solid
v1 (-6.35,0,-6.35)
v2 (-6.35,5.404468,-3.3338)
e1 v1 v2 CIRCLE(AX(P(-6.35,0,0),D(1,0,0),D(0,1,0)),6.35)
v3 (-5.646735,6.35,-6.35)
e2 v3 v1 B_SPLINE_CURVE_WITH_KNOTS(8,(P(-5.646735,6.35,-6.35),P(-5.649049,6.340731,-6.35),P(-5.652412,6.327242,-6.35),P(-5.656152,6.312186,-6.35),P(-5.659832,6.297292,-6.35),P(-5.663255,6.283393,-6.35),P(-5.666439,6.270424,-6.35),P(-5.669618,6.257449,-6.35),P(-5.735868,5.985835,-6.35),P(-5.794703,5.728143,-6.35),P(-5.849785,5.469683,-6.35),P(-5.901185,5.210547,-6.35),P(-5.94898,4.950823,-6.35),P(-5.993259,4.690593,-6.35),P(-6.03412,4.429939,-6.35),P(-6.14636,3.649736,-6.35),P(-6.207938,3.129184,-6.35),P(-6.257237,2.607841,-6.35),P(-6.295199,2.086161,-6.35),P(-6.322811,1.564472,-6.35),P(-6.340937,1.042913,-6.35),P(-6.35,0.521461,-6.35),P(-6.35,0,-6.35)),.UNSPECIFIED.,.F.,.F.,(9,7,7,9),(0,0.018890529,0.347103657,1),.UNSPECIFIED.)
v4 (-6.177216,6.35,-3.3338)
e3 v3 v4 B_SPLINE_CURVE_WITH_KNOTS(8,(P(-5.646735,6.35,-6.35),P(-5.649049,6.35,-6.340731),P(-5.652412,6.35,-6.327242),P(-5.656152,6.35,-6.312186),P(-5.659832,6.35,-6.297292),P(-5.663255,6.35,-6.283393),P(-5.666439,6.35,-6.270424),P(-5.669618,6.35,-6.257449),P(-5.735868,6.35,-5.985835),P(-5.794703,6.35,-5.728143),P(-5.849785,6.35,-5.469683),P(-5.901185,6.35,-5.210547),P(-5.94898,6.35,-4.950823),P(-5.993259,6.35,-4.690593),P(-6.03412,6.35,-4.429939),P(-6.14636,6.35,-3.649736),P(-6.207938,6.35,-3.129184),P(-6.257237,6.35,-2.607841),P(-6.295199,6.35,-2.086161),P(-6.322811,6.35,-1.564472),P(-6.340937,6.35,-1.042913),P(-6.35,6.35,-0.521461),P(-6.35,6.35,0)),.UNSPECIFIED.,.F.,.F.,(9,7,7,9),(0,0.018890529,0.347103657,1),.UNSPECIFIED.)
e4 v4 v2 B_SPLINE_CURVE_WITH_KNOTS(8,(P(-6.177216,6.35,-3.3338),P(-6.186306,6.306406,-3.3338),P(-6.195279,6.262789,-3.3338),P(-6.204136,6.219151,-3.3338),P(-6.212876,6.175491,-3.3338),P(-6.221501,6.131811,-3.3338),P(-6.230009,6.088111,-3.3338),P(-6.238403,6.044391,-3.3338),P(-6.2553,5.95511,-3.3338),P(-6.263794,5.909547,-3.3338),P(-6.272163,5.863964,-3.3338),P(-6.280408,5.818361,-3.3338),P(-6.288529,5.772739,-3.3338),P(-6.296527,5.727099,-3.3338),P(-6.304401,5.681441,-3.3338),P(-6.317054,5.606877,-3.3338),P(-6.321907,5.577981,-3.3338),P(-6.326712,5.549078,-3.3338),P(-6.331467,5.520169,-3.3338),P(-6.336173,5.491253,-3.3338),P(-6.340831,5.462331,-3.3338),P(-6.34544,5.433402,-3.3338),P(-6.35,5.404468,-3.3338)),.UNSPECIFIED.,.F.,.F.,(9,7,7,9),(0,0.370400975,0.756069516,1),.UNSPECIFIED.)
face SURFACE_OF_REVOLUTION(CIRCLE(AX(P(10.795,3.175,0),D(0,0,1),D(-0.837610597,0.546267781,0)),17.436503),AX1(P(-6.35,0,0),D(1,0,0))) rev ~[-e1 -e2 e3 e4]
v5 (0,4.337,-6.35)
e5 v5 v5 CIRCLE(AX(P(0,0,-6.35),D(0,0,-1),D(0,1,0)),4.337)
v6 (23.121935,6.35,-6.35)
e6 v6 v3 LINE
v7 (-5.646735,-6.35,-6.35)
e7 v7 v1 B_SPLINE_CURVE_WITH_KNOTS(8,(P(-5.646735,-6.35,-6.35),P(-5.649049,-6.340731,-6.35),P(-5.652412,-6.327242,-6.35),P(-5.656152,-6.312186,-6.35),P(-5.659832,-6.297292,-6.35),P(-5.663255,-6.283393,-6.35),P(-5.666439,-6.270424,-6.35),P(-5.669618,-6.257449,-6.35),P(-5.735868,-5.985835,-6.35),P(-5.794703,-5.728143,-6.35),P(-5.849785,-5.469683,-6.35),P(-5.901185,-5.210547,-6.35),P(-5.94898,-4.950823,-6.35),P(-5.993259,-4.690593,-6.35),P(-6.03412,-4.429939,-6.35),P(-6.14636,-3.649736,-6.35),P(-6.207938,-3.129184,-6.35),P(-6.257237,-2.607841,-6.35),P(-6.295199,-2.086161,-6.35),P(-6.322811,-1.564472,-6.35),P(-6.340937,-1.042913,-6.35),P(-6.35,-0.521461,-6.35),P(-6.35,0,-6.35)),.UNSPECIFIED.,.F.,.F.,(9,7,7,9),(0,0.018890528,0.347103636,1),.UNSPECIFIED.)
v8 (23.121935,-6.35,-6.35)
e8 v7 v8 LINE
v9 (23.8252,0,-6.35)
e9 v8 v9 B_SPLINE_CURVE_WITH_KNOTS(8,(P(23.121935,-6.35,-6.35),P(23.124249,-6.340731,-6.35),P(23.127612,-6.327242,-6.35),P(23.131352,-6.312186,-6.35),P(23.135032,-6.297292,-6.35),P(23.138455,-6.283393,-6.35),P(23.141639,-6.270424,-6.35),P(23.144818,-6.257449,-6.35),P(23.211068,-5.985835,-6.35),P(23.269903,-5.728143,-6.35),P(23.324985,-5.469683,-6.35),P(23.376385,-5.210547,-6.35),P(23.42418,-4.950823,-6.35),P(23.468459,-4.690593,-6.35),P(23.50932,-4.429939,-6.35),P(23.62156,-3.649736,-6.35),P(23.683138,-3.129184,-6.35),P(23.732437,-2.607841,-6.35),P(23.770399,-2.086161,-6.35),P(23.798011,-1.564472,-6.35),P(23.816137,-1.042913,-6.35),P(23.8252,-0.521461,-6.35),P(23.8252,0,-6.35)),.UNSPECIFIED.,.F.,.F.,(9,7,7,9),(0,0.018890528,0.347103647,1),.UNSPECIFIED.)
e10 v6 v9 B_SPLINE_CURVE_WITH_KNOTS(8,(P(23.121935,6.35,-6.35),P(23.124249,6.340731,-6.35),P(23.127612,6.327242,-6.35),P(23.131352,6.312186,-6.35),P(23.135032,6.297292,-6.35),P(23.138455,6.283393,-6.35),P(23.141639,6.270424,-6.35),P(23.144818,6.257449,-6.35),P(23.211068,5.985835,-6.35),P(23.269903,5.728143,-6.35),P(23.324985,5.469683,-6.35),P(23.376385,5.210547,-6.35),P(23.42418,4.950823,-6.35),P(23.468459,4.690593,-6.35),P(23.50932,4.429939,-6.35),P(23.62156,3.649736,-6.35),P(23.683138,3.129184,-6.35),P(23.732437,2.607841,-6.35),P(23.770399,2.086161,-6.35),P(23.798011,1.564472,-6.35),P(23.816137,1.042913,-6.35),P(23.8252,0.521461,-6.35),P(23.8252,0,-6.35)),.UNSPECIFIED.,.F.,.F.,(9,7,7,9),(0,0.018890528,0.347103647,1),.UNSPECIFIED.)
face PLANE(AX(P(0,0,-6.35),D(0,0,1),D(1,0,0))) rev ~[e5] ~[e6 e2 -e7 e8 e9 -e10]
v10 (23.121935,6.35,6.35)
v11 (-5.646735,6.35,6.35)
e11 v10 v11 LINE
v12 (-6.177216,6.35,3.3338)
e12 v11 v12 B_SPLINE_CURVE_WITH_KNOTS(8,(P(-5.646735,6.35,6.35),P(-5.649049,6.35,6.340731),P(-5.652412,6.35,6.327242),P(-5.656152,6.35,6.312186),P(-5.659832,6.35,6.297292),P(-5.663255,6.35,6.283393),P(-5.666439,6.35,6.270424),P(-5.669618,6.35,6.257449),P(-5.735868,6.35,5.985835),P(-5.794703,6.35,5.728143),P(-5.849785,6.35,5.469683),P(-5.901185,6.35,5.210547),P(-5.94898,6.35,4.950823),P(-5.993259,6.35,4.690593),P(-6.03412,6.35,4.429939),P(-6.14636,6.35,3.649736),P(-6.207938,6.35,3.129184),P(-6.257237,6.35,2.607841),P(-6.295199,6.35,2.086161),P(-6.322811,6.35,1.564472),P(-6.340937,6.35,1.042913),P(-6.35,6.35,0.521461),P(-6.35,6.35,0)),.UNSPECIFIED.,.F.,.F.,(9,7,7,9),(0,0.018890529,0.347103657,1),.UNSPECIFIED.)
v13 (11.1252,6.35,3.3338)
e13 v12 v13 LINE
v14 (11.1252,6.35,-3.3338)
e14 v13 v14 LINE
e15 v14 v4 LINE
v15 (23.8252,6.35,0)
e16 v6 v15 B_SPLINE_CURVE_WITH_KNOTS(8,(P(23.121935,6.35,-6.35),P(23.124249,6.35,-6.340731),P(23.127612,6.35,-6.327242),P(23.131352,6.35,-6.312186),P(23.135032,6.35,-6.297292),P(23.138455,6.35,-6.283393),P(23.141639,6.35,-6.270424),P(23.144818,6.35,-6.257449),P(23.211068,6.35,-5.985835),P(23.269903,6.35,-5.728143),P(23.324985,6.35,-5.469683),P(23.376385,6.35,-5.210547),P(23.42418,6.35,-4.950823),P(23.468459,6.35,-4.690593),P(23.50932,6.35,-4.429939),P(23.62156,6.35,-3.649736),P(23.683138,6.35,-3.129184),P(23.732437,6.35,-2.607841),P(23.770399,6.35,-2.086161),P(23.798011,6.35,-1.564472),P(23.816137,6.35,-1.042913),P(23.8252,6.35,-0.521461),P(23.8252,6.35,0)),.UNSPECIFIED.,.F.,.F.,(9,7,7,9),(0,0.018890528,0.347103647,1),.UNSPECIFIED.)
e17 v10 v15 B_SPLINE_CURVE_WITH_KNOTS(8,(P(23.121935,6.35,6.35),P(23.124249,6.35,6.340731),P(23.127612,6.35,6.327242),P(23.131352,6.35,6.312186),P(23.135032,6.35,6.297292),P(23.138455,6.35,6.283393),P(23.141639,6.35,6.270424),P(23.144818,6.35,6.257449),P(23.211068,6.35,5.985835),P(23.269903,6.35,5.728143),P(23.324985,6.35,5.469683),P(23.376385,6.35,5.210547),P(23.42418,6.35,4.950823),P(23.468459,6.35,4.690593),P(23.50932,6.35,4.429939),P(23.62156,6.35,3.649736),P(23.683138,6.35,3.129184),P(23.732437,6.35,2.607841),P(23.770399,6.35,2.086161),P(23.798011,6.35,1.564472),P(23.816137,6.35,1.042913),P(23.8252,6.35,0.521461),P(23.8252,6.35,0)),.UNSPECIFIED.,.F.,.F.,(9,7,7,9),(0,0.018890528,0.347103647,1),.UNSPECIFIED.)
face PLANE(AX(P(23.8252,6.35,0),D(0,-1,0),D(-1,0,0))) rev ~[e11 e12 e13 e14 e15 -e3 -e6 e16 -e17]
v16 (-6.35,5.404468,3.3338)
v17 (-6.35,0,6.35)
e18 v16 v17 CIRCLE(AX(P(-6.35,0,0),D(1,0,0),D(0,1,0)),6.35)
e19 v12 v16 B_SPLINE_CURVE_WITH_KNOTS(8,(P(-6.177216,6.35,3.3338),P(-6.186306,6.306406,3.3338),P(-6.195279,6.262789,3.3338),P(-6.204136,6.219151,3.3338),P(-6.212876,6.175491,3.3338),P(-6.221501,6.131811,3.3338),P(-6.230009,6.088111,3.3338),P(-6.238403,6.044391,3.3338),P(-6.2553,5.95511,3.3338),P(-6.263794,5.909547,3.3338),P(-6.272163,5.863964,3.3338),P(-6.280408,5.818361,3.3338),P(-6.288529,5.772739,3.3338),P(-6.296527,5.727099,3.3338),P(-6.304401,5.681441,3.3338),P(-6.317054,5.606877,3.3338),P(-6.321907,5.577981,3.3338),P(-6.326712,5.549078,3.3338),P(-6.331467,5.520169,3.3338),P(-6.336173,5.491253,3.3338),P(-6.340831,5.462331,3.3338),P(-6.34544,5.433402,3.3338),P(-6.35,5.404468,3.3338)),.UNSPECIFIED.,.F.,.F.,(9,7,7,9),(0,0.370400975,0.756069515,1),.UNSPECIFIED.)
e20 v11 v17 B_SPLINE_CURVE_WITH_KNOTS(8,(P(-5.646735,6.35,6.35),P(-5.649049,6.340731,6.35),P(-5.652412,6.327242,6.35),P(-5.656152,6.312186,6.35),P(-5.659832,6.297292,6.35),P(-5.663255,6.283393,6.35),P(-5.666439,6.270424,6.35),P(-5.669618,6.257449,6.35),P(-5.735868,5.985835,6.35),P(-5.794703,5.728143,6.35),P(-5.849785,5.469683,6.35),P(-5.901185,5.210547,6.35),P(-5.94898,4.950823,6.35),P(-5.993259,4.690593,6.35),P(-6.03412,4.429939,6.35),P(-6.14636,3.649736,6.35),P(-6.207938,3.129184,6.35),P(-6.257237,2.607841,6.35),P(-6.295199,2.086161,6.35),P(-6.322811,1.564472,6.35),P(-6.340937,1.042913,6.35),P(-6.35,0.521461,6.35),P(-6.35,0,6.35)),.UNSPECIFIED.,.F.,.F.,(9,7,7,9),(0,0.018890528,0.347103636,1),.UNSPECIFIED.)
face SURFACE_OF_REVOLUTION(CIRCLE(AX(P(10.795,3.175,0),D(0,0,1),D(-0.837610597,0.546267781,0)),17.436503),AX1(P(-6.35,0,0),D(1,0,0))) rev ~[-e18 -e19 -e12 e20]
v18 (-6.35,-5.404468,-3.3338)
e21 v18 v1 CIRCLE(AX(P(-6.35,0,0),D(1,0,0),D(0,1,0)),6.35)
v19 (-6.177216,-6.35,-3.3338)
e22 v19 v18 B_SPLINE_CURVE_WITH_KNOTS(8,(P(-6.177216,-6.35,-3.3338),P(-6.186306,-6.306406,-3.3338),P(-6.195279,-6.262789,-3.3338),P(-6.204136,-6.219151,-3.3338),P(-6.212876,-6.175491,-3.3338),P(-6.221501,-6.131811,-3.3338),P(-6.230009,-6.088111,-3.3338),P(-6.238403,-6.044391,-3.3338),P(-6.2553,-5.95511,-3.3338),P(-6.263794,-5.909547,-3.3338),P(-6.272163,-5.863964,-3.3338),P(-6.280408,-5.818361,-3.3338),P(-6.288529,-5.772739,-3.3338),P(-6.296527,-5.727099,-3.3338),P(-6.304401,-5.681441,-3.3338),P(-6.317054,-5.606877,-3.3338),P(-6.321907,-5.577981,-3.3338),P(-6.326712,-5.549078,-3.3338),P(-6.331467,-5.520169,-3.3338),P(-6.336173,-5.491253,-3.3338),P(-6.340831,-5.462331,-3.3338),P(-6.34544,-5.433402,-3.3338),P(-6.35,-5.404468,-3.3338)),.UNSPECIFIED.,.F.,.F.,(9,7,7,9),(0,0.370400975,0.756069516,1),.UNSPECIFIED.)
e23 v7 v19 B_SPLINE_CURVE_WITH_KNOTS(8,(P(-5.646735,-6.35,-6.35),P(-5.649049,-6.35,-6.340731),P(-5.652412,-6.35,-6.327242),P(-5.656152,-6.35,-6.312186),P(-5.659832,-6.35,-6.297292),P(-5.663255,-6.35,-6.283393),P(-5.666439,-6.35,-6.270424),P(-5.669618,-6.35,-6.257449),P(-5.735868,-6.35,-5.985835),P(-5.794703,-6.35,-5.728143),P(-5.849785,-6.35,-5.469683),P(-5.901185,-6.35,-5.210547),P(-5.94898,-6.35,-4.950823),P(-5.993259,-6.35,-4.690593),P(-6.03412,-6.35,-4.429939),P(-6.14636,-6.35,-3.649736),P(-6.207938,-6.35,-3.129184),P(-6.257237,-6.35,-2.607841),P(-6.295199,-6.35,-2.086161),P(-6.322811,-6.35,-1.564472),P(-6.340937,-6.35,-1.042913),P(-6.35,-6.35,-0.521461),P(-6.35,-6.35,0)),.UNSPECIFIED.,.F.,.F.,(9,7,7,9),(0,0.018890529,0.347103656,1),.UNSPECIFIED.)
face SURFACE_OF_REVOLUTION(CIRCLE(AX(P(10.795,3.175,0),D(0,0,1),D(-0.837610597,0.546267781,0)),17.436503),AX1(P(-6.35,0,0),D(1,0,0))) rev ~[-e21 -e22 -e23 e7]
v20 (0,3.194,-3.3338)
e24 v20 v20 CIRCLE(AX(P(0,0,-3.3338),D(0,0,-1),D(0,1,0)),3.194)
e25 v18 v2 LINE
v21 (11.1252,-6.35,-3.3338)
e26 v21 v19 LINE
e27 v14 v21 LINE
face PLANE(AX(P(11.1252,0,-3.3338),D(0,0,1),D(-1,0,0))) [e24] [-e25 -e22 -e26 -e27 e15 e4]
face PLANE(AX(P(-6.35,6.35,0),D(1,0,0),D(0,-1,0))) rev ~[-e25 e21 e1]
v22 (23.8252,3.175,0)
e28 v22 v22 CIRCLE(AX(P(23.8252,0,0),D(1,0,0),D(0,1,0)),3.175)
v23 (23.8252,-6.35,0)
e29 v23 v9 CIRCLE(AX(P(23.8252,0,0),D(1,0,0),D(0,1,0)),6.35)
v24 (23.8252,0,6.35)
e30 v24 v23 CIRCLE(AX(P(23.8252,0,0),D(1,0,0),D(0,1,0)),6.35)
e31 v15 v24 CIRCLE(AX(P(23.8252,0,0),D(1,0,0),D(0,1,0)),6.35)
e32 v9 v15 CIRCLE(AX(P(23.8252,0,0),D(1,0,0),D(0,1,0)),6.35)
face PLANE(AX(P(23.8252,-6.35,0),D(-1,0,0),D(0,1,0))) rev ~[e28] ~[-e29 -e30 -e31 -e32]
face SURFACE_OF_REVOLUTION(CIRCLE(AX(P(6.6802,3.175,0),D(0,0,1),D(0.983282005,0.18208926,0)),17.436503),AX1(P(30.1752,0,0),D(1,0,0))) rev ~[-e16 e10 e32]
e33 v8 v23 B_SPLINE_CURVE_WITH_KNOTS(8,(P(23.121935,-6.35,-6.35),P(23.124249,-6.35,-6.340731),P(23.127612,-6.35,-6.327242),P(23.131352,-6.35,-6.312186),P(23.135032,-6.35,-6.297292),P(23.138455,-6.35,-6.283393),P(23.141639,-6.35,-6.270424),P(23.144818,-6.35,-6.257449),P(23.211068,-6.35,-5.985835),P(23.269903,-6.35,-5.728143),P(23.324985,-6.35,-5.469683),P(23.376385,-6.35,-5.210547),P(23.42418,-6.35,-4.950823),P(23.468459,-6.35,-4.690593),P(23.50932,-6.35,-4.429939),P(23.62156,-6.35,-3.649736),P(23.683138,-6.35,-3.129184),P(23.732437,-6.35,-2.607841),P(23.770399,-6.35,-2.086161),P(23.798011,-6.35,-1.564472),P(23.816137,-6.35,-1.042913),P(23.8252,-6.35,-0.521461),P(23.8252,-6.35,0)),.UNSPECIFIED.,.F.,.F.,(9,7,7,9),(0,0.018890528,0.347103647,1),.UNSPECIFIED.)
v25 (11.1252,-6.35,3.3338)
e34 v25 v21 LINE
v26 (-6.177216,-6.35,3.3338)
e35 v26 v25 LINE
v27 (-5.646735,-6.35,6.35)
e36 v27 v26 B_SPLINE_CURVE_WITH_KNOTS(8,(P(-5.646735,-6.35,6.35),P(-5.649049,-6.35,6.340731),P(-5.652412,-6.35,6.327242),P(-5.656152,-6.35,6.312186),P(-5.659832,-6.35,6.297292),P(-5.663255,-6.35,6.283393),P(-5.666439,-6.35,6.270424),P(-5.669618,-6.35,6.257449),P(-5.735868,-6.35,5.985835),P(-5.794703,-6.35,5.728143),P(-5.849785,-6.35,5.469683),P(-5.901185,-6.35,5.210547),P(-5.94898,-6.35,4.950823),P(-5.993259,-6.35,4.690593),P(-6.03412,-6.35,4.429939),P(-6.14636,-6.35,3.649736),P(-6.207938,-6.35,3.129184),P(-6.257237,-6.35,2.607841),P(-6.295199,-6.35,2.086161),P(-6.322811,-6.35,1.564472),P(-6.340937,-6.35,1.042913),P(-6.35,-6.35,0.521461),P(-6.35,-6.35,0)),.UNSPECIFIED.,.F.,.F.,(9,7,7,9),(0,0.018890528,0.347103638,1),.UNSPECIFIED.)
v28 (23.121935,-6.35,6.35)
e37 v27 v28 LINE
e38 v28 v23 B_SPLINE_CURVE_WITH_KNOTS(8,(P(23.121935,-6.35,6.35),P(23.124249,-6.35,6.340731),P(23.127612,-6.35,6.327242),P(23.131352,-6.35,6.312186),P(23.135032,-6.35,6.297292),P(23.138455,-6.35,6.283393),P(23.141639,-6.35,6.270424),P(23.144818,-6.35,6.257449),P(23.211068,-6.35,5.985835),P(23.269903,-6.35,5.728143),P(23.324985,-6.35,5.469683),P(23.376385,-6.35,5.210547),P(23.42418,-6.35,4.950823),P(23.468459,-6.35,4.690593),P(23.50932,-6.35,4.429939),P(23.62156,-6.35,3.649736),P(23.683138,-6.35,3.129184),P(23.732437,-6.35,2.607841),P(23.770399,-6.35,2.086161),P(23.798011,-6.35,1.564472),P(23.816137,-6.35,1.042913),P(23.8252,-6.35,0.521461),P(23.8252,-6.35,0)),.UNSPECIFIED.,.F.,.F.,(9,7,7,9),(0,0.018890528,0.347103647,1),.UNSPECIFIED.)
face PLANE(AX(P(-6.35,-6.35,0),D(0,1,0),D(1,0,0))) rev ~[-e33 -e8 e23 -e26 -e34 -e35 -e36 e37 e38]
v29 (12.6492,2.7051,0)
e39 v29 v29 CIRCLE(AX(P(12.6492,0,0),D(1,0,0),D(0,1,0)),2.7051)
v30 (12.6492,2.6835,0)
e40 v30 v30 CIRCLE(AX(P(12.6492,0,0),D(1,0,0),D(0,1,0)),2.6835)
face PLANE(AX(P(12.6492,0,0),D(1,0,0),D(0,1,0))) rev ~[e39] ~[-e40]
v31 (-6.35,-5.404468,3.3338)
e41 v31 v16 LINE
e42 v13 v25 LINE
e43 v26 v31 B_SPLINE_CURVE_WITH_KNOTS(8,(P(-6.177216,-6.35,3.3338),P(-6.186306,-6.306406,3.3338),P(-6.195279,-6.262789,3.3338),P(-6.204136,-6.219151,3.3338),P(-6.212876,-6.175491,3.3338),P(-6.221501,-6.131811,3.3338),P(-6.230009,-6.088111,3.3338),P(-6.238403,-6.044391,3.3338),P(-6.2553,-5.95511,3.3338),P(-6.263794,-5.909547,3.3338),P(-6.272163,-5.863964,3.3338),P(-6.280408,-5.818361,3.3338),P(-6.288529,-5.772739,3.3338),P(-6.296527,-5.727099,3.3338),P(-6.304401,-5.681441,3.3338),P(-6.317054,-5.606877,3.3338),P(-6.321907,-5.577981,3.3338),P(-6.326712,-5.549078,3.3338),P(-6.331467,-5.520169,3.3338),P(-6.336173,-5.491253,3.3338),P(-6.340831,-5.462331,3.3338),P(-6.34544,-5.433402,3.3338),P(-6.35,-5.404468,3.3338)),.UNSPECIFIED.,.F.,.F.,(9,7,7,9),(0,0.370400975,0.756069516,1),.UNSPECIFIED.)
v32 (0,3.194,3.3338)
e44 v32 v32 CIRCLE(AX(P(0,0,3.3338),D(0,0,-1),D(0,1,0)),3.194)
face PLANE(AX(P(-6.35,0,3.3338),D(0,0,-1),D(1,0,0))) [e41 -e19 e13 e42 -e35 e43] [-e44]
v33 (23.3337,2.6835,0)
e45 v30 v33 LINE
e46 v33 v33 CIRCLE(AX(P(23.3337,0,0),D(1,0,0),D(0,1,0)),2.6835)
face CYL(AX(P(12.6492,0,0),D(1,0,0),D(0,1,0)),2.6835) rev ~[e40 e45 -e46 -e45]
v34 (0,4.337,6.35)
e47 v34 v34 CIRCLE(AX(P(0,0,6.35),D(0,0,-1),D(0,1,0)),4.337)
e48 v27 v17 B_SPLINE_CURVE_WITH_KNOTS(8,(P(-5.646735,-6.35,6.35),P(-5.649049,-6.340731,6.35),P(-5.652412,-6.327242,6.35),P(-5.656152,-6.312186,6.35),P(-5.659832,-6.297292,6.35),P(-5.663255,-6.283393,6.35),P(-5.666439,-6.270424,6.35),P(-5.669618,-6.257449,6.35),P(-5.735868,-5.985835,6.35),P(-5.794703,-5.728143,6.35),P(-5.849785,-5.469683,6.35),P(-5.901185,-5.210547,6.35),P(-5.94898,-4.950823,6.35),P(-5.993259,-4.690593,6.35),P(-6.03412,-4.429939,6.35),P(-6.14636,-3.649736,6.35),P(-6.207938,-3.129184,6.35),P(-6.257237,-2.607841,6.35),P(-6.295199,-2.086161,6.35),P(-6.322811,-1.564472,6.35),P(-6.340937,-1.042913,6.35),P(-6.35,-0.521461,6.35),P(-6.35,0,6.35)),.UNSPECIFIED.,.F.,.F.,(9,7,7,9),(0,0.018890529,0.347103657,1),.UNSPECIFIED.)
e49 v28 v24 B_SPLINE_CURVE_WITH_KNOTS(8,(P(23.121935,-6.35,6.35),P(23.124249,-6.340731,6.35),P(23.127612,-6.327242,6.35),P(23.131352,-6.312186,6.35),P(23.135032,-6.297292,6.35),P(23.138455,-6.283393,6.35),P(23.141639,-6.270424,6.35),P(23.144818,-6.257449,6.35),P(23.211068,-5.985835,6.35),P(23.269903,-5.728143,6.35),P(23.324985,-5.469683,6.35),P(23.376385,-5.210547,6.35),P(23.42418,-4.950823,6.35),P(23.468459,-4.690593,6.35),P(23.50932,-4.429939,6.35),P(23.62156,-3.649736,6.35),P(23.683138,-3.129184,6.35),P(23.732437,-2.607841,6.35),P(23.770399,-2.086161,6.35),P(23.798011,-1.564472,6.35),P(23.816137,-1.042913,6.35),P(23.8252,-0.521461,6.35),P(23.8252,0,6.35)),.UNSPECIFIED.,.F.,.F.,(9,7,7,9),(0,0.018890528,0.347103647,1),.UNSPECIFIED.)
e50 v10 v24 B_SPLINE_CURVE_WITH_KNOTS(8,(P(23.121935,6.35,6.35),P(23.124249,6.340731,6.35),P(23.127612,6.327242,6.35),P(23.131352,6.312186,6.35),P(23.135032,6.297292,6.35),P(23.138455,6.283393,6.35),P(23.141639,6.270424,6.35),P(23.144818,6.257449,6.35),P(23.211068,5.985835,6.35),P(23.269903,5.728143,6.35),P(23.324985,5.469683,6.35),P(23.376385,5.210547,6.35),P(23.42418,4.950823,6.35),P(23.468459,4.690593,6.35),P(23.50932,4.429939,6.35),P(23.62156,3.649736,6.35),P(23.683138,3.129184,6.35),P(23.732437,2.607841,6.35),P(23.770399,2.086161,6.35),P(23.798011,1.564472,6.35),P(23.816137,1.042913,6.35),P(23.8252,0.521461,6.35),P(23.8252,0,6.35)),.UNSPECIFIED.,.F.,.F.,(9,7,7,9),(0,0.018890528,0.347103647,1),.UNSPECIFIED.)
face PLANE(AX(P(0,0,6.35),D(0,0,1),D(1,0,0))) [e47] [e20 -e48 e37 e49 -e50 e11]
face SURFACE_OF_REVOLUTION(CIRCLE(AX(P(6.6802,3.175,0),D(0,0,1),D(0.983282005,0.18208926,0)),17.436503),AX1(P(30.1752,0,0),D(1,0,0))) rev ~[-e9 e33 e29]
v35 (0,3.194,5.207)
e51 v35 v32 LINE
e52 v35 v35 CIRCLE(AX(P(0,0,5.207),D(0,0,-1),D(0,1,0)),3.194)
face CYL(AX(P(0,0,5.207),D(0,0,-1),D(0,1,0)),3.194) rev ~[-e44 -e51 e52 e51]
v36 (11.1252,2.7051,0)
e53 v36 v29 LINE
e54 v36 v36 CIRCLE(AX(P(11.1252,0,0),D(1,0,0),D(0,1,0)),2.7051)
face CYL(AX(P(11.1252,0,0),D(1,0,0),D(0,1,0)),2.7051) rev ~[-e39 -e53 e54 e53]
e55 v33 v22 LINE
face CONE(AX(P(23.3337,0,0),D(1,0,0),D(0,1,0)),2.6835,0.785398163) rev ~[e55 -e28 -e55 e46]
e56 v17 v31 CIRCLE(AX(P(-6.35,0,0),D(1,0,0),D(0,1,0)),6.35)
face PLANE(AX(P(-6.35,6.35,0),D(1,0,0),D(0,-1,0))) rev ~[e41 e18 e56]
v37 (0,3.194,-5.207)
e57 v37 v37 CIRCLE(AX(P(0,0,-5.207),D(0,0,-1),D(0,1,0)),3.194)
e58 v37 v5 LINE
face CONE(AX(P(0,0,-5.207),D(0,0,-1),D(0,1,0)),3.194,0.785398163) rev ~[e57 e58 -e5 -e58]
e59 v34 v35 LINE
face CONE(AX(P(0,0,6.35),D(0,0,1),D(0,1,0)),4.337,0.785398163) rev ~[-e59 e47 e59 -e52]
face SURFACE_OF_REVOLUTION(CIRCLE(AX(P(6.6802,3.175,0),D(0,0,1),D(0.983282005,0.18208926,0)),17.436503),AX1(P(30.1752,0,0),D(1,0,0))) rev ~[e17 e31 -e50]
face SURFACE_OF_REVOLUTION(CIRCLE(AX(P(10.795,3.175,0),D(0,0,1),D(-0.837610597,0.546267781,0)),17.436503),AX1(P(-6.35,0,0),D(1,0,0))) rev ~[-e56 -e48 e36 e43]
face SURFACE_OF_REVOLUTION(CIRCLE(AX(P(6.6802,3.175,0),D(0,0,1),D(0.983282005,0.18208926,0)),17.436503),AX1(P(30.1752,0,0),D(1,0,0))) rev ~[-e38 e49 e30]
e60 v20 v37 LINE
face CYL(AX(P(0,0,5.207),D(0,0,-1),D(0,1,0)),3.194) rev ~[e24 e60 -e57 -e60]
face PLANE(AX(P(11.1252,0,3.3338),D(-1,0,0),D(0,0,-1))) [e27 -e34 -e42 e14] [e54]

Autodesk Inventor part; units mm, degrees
sketch "Sketch_1" plane through (0, 0, 0) normal (0, 0, 1) x (1, 0, 0)
  line L0 (-6.35, 6.35) -> (-6.35, -6.35)
  line L1 (-6.35, -6.35) -> (23.8252, -6.35)
  line L2 (23.8252, -6.35) -> (23.8252, 6.35)
  line L3 (23.8252, 6.35) -> (-6.35, 6.35)
extrude "Extrusion1" add sketch "Sketch_1" along normal mid plane 12.7
sketch "Sketch_2" plane through (0, 0, 0) normal (0, 1, 0) x (-1, 0, 0)
  line L0 (6.35, -3.3338) -> (6.35, 3.3338)
  line L1 (6.35, 3.3338) -> (-11.1252, 3.3338)
  line L2 (-11.1252, 3.3338) -> (-11.1252, -3.3338)
  line L3 (-11.1252, -3.3338) -> (6.35, -3.3338)
extrude "Extrusion2" cut sketch "Sketch_2" along normal mid plane 12.7
sketch "Sketch_3" plane through (0, 0, 0) normal (0, 0, 1) x (1, 0, 0)
  line L0 (23.8252, 0) -> (12.6492, 0)
  line L1 (12.6492, 0) -> (12.6492, 2.6835)
  line L2 (12.6492, 2.6835) -> (23.3337, 2.6835)
  line L3 (23.3337, 2.6835) -> (23.8252, 3.175)
  line L4 (23.8252, 3.175) -> (23.8252, 0)
  line L5 (23.8252, 0) -> (12.6492, 0)
revolve "Revolution1" cut sketch "Sketch_3" angle 360 about axis through (23.8252, 0, 0) along (1, 0, 0)
thread "Thread1"
sketch "Sketch_4" plane through (0, 0, 0) normal (0, 0, 1) x (1, 0, 0)
  line L0 (12.6492, 0) -> (11.1252, 0)
  line L1 (11.1252, 0) -> (11.1252, 2.7051)
  line L2 (11.1252, 2.7051) -> (12.6492, 2.7051)
  line L3 (12.6492, 2.7051) -> (12.6492, 0)
  line L4 (12.6492, 0) -> (11.1252, 0)
revolve "Revolution2" cut sketch "Sketch_4" angle 360 about axis through (12.6492, 0, 0) along (1, 0, 0)
sketch "Sketch_5" plane through (0, 0, 0) normal (1, 0, 0) x (0, 1, 0)
  line L0 (0, -6.35) -> (0, 6.35)
  line L1 (0, 6.35) -> (4.337, 6.35)
  line L2 (4.337, 6.35) -> (3.194, 5.207)
  line L3 (3.194, 5.207) -> (3.194, -5.207)
  line L4 (3.194, -5.207) -> (4.337, -6.35)
  line L5 (4.337, -6.35) -> (0, -6.35)
  line L6 (0, -6.35) -> (0, 6.35)
revolve "Revolution3" cut sketch "Sketch_5" angle 360 about axis through (0, 0, -6.35) along (0, 0, -1)
sketch "Sketch_9" plane through (0, 0, 0) normal (0, 0, 1) x (1, 0, 0)
  line L0 (30.1752, 0) -> (23.8252, 0)
  line L1 (23.8252, 0) -> (23.8252, 6.35)
  arc A0 (23.8252, 6.35) -> (21.2852, 12.7) centre (6.6802, 3.175) ccw
  line L2 (21.2852, 12.7) -> (30.1752, 12.7)
  line L3 (30.1752, 12.7) -> (30.1752, 0)
  line L4 (30.1752, 0) -> (23.8252, 0)
revolve "Revolution4" cut sketch "Sketch_9" angle 360 about axis through (30.1752, 0, 0) along (1, 0, 0)
sketch "Sketch_10" plane through (0, 0, 0) normal (0, 0, 1) x (1, 0, 0)
  line L0 (-6.35, 0) -> (-12.7, 0)
  line L1 (-12.7, 0) -> (-12.7, 12.7)
  line L2 (-12.7, 12.7) -> (-3.81, 12.7)
  arc A0 (-3.81, 12.7) -> (-6.35, 6.35) centre (10.795, 3.175) ccw
  line L3 (-6.35, 6.35) -> (-6.35, 0)
  line L4 (-6.35, 0) -> (-12.7, 0)
revolve "Revolution5" cut sketch "Sketch_10" angle 360 about axis through (-6.35, 0, 0) along (1, 0, 0)
ref_plane "th1_XY" through (23.8252, 3.175, 0) normal (0, 0, 1) x (1, 0, 0)
ref_plane "th1_YZ" through (23.8252, 3.175, 0) normal (1, 0, 0) x (0, 1, 0)
ref_plane "th1_ZX" through (23.8252, 3.175, 0) normal (0, 1, 0) x (0, 0, 1)
ref_plane "th2_XY" through (23.8252, -3.175, 0) normal (0, 0, 1) x (1, 0, 0)
ref_plane "th2_YZ" through (23.8252, -3.175, 0) normal (1, 0, 0) x (0, 1, 0)
ref_plane "th2_ZX" through (23.8252, -3.175, 0) normal (0, 1, 0) x (0, 0, 1)
ref_plane "rod_clevis_body_XY" through (0, 0, 0) normal (0, 0, 1) x (1, 0, 0)
ref_plane "rod_clevis_body_YZ" through (0, 0, 0) normal (1, 0, 0) x (0, 1, 0)
ref_plane "rod_clevis_body_ZX" through (0, 0, 0) normal (0, 1, 0) x (0, 0, 1)
ref_plane "piston_rod_clevis_XY" through (23.8252, 0, 0) normal (1, 0, 0) x (0, 0, -1)
ref_plane "piston_rod_clevis_YZ" through (23.8252, 0, 0) normal (0, 0, -1) x (0, 1, 0)
ref_plane "piston_rod_clevis_ZX" through (23.8252, 0, 0) normal (0, 1, 0) x (1, 0, 0)
ref_plane "dummy_XY" through (0, 0, 0) normal (0, 0, 1) x (1, 0, 0)
ref_plane "dummy_YZ" through (0, 0, 0) normal (1, 0, 0) x (0, 1, 0)
ref_plane "dummy_ZX" through (0, 0, 0) normal (0, 1, 0) x (0, 0, 1)
ref_plane "l11_XY" through (23.8252, 6.35, 0) normal (0, 0, 1) x (1, 0, 0)
ref_plane "l11_YZ" through (23.8252, 6.35, 0) normal (1, 0, 0) x (0, 1, 0)
ref_plane "l11_ZX" through (23.8252, 6.35, 0) normal (0, 1, 0) x (0, 0, 1)
ref_plane "l12_XY" through (0, 6.35, 0) normal (0, 0, 1) x (1, 0, 0)
ref_plane "l12_YZ" through (0, 6.35, 0) normal (1, 0, 0) x (0, 1, 0)
ref_plane "l12_ZX" through (0, 6.35, 0) normal (0, 1, 0) x (0, 0, 1)
ref_plane "l1_XY" through (23.8252, 6.35, 0) normal (0, 0, 1) x (1, 0, 0)
ref_plane "l1_YZ" through (23.8252, 6.35, 0) normal (1, 0, 0) x (0, 1, 0)
ref_plane "l1_ZX" through (23.8252, 6.35, 0) normal (0, 1, 0) x (0, 0, 1)
ref_plane "h1_XY" through (-6.35, 6.35, 0) normal (0, 0, 1) x (1, 0, 0)
ref_plane "h1_YZ" through (-6.35, 6.35, 0) normal (1, 0, 0) x (0, 1, 0)
ref_plane "h1_ZX" through (-6.35, 6.35, 0) normal (0, 1, 0) x (0, 0, 1)
ref_plane "l2_XY" through (-6.35, 6.35, 0) normal (0, 0, 1) x (1, 0, 0)
ref_plane "l2_YZ" through (-6.35, 6.35, 0) normal (1, 0, 0) x (0, 1, 0)
ref_plane "l2_ZX" through (-6.35, 6.35, 0) normal (0, 1, 0) x (0, 0, 1)
ref_plane "h2_XY" through (-6.35, -6.35, 0) normal (0, 0, 1) x (1, 0, 0)
ref_plane "h2_YZ" through (-6.35, -6.35, 0) normal (1, 0, 0) x (0, 1, 0)
ref_plane "h2_ZX" through (-6.35, -6.35, 0) normal (0, 1, 0) x (0, 0, 1)
ref_plane "w11_XY" through (-6.35, 0, -3.3338) normal (0, 1, 0) x (1, 0, 0)
ref_plane "w11_YZ" through (-6.35, 0, -3.3338) normal (1, 0, 0) x (0, 0, -1)
ref_plane "w11_ZX" through (-6.35, 0, -3.3338) normal (0, 0, -1) x (0, 1, 0)
ref_plane "w12_XY" through (-6.35, 0, 3.3338) normal (0, 1, 0) x (1, 0, 0)
ref_plane "w12_YZ" through (-6.35, 0, 3.3338) normal (1, 0, 0) x (0, 0, -1)
ref_plane "w12_ZX" through (-6.35, 0, 3.3338) normal (0, 0, -1) x (0, 1, 0)
ref_plane "l21_XY" through (23.8252, 0, 0) normal (0, 1, 0) x (1, 0, 0)
ref_plane "l21_YZ" through (23.8252, 0, 0) normal (1, 0, 0) x (0, 0, -1)
ref_plane "l21_ZX" through (23.8252, 0, 0) normal (0, 0, -1) x (0, 1, 0)
ref_plane "l22_XY" through (11.1252, 0, 0) normal (0, 1, 0) x (1, 0, 0)
ref_plane "l22_YZ" through (11.1252, 0, 0) normal (1, 0, 0) x (0, 0, -1)
ref_plane "l22_ZX" through (11.1252, 0, 0) normal (0, 0, -1) x (0, 1, 0)
ref_plane "w1_XY" through (23.8252, 0, -6.35) normal (0, 1, 0) x (1, 0, 0)
ref_plane "w1_YZ" through (23.8252, 0, -6.35) normal (1, 0, 0) x (0, 0, -1)
ref_plane "w1_ZX" through (23.8252, 0, -6.35) normal (0, 0, -1) x (0, 1, 0)
ref_plane "w2_XY" through (23.8252, 0, 6.35) normal (0, 1, 0) x (1, 0, 0)
ref_plane "w2_YZ" through (23.8252, 0, 6.35) normal (1, 0, 0) x (0, 0, -1)
ref_plane "w2_ZX" through (23.8252, 0, 6.35) normal (0, 0, -1) x (0, 1, 0)
ref_plane "to_cylinder_XY" through (11.1252, 0, 0) normal (1, 0, 0) x (0, 0, -1)
ref_plane "to_cylinder_YZ" through (11.1252, 0, 0) normal (0, 0, -1) x (0, 1, 0)
ref_plane "to_cylinder_ZX" through (11.1252, 0, 0) normal (0, 1, 0) x (1, 0, 0)
properties part number "D-14055"
